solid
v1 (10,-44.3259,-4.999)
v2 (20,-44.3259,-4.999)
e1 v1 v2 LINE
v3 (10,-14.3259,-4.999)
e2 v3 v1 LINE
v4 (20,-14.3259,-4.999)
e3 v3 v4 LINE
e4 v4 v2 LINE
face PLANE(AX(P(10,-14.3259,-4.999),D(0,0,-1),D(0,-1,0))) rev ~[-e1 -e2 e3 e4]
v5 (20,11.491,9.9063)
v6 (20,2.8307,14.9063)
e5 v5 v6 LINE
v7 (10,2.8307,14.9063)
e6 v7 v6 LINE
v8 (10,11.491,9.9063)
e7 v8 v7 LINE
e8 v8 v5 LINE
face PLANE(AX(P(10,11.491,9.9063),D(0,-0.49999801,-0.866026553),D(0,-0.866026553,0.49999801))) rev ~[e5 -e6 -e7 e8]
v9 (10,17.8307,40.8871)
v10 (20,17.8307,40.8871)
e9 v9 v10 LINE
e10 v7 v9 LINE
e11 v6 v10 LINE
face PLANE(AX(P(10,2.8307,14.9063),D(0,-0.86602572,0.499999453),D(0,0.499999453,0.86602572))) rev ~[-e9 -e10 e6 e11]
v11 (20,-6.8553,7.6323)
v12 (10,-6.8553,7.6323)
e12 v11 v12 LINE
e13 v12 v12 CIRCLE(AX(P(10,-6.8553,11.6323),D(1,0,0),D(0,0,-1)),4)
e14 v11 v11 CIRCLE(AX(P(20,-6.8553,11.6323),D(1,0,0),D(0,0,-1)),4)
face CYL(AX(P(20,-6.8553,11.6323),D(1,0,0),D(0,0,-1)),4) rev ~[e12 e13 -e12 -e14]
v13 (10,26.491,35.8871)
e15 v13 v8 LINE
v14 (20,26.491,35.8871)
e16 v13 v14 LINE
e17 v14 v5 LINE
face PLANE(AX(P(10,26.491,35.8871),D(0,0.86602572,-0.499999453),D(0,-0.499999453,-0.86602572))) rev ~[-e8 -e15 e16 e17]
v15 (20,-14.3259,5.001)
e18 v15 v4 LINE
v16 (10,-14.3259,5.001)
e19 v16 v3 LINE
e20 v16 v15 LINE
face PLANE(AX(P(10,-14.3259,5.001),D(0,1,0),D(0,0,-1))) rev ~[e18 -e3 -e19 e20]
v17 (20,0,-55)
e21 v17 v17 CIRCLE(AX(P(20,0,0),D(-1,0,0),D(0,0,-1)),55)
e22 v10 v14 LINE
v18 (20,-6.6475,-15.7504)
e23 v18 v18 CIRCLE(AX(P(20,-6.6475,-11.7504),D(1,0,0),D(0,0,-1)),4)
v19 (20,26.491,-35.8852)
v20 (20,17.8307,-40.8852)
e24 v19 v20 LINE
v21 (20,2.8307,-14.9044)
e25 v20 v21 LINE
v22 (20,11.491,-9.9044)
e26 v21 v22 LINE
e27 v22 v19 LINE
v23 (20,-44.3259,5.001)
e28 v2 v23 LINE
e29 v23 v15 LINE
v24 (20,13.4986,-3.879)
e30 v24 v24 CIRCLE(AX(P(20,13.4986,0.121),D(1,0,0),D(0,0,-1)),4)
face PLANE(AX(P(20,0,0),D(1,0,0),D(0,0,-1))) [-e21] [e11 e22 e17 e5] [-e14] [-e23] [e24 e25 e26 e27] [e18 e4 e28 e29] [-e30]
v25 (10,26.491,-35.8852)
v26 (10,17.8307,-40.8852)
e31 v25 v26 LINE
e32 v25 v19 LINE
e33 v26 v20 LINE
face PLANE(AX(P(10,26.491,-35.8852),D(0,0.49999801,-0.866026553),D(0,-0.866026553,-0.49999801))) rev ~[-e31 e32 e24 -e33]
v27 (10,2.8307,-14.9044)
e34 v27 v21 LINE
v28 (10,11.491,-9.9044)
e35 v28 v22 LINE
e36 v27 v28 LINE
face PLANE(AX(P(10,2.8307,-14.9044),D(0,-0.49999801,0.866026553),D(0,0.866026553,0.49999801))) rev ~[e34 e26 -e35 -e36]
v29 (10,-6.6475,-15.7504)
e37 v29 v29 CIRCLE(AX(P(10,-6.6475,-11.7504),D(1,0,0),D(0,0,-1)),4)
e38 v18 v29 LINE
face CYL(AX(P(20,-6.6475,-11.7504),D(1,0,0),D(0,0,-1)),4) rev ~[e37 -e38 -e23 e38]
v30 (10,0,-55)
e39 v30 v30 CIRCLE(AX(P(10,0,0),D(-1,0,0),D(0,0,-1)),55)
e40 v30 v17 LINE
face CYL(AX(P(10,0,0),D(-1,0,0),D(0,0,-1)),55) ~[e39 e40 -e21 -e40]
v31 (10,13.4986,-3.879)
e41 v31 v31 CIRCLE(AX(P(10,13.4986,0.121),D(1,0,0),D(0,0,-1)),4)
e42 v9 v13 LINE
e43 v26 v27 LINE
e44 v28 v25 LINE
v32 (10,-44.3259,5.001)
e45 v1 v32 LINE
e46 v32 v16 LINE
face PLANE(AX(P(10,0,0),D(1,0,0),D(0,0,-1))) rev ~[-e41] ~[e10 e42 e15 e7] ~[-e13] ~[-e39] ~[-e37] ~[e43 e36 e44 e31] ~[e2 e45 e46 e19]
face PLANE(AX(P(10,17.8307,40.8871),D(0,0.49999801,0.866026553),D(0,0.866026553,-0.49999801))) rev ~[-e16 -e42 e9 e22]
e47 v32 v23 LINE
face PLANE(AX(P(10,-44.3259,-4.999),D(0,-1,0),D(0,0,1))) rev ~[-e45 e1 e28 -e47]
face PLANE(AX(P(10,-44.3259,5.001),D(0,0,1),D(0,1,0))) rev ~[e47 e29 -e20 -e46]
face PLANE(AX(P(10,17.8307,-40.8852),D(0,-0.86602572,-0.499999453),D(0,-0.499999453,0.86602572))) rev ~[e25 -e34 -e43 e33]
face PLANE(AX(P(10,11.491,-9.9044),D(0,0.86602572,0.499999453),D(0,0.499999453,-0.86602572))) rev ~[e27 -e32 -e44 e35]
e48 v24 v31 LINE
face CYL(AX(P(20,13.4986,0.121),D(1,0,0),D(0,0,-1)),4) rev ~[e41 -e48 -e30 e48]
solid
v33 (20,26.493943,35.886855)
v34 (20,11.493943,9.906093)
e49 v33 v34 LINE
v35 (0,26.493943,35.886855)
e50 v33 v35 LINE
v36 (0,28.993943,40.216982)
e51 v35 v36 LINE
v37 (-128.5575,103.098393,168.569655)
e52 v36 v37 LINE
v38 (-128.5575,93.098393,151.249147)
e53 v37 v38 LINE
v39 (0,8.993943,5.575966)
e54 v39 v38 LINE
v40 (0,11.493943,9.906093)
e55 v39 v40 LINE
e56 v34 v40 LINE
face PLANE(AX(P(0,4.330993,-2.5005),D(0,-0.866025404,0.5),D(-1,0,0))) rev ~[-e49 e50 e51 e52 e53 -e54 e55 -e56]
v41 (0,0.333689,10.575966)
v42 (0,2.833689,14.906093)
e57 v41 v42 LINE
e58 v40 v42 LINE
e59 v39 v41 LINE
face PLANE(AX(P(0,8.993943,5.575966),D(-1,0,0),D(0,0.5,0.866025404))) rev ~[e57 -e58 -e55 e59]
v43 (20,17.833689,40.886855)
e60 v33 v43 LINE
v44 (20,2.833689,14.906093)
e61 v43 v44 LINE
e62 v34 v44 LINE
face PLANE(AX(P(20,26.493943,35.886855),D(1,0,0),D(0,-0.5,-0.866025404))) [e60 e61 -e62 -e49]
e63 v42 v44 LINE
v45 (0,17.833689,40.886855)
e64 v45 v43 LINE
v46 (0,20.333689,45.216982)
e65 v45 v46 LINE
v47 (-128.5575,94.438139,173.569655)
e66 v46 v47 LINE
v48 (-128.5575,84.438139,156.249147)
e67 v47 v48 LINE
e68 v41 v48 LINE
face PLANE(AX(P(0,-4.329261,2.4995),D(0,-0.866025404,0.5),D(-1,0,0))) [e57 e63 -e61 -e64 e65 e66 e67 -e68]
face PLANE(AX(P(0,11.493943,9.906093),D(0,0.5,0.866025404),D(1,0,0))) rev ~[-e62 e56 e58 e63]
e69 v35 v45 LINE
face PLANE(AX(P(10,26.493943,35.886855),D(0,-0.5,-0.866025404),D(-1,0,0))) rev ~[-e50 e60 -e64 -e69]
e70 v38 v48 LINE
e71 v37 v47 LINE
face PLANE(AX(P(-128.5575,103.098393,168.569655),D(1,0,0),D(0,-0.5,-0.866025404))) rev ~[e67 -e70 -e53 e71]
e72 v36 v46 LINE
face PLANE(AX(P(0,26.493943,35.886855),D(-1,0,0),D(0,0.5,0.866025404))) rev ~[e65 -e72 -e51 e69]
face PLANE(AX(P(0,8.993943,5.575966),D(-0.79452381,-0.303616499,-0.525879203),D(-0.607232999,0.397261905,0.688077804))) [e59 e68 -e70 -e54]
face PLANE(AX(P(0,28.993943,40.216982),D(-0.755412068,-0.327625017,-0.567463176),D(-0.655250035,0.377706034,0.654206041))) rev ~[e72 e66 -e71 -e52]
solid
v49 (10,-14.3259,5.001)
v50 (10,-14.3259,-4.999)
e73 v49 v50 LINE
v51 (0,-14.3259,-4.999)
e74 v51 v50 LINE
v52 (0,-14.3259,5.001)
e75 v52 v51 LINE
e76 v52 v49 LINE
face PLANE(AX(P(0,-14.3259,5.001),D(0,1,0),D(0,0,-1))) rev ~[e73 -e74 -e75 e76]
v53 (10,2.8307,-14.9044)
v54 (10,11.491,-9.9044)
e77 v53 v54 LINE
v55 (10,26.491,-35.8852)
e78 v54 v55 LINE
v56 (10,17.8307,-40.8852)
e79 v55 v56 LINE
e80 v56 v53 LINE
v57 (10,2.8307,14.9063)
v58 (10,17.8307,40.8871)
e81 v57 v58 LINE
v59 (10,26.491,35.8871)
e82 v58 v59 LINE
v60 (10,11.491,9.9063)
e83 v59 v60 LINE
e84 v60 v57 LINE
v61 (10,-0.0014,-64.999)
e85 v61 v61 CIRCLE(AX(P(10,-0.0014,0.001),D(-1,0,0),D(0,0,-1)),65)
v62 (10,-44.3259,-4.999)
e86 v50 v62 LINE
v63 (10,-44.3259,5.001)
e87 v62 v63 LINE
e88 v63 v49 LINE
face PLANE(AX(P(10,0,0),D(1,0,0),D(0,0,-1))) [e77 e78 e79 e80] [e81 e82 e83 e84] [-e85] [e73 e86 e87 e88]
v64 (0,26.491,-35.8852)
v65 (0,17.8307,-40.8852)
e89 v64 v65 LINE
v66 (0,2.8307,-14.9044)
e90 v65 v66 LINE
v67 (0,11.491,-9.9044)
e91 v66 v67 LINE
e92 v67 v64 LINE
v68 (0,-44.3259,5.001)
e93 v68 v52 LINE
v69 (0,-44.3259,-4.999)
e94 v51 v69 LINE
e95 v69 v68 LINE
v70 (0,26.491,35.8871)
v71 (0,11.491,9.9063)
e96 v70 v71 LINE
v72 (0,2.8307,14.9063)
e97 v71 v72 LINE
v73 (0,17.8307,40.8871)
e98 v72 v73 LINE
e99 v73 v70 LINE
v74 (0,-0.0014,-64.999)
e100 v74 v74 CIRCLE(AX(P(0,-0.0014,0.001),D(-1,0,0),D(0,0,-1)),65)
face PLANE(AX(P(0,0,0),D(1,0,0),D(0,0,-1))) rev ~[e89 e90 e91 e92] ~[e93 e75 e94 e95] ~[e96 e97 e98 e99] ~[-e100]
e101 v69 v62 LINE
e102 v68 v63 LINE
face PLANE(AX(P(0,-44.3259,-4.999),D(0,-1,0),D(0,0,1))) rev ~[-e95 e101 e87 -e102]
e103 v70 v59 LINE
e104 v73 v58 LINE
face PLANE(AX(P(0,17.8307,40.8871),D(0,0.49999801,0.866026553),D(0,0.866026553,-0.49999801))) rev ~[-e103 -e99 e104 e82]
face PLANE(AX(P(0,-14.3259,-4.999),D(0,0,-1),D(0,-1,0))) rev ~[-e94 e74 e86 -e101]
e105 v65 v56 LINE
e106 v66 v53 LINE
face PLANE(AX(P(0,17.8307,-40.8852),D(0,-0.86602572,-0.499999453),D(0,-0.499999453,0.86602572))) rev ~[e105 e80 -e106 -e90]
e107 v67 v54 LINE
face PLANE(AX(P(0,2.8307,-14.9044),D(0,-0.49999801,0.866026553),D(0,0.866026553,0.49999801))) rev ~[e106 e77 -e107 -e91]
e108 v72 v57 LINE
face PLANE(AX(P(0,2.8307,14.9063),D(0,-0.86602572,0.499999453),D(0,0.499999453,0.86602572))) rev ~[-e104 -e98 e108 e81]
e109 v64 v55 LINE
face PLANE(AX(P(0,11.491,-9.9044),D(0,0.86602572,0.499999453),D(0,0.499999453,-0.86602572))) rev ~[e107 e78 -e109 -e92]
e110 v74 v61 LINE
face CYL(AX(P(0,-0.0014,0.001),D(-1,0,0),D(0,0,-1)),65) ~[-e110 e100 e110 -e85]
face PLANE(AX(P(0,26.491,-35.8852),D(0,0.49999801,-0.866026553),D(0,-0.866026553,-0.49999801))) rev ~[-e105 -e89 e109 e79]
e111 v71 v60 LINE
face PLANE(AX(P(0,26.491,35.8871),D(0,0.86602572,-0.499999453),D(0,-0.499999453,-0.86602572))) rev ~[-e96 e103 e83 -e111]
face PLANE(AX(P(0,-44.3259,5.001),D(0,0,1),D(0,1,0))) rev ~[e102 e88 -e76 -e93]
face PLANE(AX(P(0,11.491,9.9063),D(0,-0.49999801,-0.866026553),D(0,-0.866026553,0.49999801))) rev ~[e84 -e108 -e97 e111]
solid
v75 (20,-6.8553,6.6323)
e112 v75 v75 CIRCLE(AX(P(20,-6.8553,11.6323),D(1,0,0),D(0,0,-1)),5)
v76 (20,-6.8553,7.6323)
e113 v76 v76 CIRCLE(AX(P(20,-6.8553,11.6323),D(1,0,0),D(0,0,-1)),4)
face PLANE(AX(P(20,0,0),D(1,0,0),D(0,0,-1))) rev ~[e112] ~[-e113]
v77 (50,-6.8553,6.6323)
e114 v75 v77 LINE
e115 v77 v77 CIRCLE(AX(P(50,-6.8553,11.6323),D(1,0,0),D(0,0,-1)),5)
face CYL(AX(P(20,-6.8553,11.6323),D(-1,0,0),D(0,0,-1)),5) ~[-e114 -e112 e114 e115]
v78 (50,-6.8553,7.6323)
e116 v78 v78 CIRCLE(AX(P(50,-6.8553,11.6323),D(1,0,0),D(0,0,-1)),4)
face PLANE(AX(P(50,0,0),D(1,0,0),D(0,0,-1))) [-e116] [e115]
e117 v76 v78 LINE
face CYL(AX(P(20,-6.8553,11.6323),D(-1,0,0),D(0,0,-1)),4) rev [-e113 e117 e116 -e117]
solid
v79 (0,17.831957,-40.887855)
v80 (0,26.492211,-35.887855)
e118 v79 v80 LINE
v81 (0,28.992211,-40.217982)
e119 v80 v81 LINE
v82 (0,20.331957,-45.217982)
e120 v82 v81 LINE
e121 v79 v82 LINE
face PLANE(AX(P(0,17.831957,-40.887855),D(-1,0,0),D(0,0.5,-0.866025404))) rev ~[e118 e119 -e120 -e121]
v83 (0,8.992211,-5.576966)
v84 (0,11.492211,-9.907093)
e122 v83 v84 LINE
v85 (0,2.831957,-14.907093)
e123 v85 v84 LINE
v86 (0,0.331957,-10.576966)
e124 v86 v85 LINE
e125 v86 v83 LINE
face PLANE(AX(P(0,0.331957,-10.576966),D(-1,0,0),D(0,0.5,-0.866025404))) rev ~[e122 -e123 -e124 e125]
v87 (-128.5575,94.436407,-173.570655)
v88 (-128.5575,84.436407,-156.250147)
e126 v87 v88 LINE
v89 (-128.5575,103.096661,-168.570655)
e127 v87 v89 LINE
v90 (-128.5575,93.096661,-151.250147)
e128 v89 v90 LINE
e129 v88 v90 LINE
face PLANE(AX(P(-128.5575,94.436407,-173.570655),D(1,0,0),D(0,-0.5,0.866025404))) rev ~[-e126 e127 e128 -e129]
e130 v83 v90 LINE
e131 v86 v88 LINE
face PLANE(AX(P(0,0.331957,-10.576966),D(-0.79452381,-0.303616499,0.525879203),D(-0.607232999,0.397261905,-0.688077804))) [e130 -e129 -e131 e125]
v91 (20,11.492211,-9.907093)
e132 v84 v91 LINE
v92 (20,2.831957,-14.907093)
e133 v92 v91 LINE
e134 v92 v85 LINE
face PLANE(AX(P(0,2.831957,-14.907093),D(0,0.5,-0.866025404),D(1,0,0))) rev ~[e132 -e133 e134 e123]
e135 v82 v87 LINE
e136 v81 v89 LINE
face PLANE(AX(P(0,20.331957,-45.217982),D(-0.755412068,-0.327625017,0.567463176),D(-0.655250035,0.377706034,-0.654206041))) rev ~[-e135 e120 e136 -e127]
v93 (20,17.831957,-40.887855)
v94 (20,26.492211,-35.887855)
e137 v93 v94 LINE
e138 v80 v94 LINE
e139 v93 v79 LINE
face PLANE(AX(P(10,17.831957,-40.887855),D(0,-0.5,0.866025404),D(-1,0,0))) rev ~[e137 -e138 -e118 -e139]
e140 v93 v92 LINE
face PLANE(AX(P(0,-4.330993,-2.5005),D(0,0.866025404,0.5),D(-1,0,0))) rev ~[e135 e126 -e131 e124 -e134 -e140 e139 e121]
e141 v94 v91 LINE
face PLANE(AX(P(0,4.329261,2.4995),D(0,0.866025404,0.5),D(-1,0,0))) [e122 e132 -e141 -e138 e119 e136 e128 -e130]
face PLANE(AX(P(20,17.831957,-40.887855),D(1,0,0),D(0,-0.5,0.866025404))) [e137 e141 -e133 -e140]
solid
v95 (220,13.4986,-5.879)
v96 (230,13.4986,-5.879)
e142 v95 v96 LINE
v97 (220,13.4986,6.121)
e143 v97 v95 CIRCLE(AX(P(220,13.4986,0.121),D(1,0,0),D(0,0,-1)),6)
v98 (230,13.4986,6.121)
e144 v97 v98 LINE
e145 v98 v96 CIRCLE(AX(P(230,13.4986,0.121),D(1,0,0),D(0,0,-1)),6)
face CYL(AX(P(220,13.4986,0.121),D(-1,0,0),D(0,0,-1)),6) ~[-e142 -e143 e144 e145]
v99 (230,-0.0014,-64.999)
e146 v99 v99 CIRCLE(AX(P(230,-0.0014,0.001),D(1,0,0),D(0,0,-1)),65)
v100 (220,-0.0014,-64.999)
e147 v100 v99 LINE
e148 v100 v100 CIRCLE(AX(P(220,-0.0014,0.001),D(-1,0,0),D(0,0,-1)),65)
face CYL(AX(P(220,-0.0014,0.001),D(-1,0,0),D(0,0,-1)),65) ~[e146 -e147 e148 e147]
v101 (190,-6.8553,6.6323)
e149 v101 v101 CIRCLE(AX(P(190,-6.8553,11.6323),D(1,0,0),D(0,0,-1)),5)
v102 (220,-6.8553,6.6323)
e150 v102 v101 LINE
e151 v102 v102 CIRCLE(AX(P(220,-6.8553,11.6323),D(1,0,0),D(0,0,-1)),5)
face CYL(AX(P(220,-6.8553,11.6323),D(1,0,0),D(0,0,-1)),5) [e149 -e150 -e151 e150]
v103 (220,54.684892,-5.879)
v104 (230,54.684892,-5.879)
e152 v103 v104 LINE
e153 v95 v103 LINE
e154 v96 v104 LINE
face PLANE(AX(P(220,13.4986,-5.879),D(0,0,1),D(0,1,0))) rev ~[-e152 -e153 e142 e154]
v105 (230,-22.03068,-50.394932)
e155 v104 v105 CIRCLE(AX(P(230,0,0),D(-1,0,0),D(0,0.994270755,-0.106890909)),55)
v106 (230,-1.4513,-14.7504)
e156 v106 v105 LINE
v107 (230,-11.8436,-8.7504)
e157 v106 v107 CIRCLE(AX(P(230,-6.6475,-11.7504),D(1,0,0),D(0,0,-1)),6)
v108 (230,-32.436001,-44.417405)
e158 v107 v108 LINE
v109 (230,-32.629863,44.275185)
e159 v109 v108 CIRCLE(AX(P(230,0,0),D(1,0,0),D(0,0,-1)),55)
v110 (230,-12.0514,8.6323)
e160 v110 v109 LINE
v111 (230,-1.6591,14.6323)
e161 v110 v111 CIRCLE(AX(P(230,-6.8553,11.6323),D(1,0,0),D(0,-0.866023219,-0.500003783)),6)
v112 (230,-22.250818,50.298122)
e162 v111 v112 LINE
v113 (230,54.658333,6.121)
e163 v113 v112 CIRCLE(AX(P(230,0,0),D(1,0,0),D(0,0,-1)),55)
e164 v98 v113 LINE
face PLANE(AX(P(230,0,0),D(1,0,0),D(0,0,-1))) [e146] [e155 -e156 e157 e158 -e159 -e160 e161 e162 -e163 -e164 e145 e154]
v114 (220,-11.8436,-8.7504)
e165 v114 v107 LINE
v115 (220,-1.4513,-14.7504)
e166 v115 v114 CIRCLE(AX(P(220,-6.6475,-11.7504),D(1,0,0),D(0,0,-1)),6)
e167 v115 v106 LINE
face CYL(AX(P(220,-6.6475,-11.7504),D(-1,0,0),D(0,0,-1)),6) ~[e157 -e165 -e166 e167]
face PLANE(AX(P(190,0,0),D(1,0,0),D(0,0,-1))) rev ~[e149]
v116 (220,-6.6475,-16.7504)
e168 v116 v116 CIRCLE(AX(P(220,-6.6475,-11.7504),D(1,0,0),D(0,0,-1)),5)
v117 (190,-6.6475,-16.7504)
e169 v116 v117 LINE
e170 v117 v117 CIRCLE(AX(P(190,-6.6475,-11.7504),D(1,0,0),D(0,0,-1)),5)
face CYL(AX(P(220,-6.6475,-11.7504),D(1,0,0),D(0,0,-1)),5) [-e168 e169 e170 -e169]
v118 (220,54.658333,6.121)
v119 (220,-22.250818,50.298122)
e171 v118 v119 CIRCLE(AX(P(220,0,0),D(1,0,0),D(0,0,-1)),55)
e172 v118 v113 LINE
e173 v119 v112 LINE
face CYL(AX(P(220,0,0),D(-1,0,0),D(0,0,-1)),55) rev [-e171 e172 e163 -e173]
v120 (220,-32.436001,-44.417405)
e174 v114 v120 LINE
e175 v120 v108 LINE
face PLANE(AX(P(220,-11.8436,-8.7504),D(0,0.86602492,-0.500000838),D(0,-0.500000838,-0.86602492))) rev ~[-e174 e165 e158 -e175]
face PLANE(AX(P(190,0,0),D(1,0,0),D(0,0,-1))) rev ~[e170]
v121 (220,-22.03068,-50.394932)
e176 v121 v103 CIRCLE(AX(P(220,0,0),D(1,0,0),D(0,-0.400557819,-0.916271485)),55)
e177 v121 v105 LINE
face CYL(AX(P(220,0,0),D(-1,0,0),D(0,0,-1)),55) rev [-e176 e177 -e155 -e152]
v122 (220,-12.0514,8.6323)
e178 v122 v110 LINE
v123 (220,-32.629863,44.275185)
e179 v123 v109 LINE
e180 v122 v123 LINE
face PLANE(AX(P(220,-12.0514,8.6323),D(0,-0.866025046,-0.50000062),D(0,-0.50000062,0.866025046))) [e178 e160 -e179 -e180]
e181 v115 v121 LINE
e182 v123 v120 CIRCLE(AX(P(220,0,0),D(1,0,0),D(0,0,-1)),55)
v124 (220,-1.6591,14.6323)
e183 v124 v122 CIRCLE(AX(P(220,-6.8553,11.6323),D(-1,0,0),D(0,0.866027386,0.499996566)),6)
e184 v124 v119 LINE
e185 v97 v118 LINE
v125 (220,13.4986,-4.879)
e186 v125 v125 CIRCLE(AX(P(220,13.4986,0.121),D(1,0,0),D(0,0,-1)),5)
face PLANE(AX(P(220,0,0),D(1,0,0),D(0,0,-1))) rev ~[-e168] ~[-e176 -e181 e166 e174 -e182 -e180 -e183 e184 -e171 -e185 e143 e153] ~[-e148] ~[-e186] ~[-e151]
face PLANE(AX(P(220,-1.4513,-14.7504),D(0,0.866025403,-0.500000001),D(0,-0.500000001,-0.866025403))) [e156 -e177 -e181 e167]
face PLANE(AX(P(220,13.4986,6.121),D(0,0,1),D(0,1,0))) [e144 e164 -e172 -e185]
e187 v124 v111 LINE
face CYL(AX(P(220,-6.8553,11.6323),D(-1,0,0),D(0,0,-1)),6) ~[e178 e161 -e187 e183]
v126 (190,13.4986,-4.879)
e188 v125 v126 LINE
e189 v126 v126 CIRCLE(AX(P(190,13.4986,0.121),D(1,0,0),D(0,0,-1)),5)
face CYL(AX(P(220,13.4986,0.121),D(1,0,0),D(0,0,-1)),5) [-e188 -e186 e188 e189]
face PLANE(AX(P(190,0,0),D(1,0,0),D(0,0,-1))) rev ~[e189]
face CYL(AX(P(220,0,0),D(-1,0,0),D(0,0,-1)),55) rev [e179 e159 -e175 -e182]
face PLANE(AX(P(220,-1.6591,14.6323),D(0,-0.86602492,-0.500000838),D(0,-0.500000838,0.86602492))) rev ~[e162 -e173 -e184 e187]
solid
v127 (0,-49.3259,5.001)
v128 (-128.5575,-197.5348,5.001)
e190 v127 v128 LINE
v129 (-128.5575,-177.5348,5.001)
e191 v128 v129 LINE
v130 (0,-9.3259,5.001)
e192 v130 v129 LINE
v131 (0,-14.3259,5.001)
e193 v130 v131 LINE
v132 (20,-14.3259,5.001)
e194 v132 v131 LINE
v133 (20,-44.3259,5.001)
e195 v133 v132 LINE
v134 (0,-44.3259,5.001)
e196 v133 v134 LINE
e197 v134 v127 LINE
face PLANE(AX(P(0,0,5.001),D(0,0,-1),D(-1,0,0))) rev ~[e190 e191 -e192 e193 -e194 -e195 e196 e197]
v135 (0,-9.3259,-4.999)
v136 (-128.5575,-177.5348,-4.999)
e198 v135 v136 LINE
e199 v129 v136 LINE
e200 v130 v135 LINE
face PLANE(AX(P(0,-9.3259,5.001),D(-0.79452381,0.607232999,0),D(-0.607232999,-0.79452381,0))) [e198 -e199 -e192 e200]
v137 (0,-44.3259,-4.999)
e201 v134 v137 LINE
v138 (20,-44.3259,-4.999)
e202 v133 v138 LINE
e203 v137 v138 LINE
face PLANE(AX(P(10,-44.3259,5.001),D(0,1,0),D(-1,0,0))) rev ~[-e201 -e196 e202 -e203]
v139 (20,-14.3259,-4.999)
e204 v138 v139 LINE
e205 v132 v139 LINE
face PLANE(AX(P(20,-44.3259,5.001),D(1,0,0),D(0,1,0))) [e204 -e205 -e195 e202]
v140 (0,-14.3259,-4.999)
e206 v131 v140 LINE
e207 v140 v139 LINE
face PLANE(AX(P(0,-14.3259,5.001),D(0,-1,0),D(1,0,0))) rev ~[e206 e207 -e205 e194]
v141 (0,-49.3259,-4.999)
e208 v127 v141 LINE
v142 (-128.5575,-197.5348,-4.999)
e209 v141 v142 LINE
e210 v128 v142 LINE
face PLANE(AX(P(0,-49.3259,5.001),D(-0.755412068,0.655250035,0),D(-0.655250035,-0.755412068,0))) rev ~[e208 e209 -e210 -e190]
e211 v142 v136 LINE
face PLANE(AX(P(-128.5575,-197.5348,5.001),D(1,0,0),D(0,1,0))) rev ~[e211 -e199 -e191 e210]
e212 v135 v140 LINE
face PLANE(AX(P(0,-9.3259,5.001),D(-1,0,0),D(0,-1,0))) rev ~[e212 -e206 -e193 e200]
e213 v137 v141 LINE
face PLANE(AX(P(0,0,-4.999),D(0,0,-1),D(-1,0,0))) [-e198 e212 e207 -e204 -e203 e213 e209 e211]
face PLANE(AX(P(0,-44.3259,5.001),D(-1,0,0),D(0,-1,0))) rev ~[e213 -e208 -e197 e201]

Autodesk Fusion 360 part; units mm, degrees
sketch "main" plane through (0, 0, 0) normal (1, 0, 0) x (0, 0, -1)
  circle A0 centre (-0.121, 13.4986) radius 6
  circle A1 centre (0, 0) radius 55
  circle A2 centre (-0.121, 13.4986) radius 5
  circle A3 centre (-0.001, -0.0014) radius 65
  line L0 (5.879, 13.4986) -> (5.879, 64.7321)
  line L1 (-6.121, 13.4986) -> (-6.121, 64.7099)
  circle A4 centre (-11.6323, -6.8553) radius 5
  line L2 (-8.6323, -12.0514) -> (-52.9826, -37.6571)
  line L3 (-14.6323, -1.6591) -> (-59.0018, -27.2759)
  circle A5 centre (-11.6323, -6.8553) radius 6
  circle A6 centre (11.7504, -6.6475) radius 5
  line L4 (14.7504, -1.4513) -> (59.1006, -27.0569)
  line L5 (8.7504, -11.8436) -> (53.1199, -37.4604)
  circle A7 centre (11.7504, -6.6475) radius 6
  line L6 (4.999, -44.3259) -> (-5.001, -44.3259)
  line L7 (-5.001, -44.3259) -> (-5.001, -14.3259)
  line L8 (-5.001, -14.3259) -> (4.999, -14.3259)
  line L9 (4.999, -14.3259) -> (4.999, -44.3259)
  line L10 (9.9044, 11.491) -> (35.8852, 26.491)
  line L11 (40.8852, 17.8307) -> (14.9044, 2.8307)
  line L12 (14.9044, 2.8307) -> (9.9044, 11.491)
  line L13 (35.8852, 26.491) -> (40.8852, 17.8307)
  line L14 (-14.9063, 2.8307) -> (-40.8871, 17.8307)
  line L15 (-35.8871, 26.491) -> (-9.9063, 11.491)
  line L16 (-9.9063, 11.491) -> (-14.9063, 2.8307)
  line L17 (-40.8871, 17.8307) -> (-35.8871, 26.491)
  circle A8 centre (-0.121, 13.4986) radius 4
  circle A9 centre (-11.6323, -6.8553) radius 4
  circle A10 centre (11.7504, -6.6475) radius 4
  dimension "d7" = 12
  dimension "d8" = 13.5
  dimension "d11" = 110
  dimension "d19" = 10
  dimension "d27" = 130
  dimension "d70" = 360
  dimension "d77" = 30
  dimension "d79" = 360
  dimension "d84" = 10
  dimension "d106" = 5
  dimension "d114" = 8
extrude "Extrude11" add sketch "main" along normal blind 10 contours A0 | A0 A1 L0 L1 L2 L3 A5 L4 L5 A7 | A0 A1 L0 L1 | A1 A3 L0 L4 | A1 A3 L0 L1 | A1 A3 L1 L3 | A1 L2 L3 A5 | A1 A3 L2 L3 | A1 A3 L4 L5 | A1 L4 L5 A7 | A1 A3 L2 L5 | A5 | A7 | A2 | A4 | A6 | A8 | A9 | A10 makes body 1
sketch "leg" plane through (0, 0, 5.001) normal (0, 0, -1) x (-1, 0, 0)
  line L0 (0, -44.3259) -> (0, -14.3259)
  line L1 (0, -14.3259) -> (-10, -14.3259)
  line L2 (128.5575, -197.5348) -> (128.5575, -177.5348)
  line L3 (0, -14.3259) -> (-20, -14.3259)
  line L4 (-20, -44.3259) -> (-20, -14.3259)
  line L5 (0, -9.3259) -> (128.5575, -177.5348)
  line L6 (0, -44.3259) -> (0, -49.3259)
  line L7 (0, -49.3259) -> (128.5575, -197.5348)
  line L8 (-20, -44.3259) -> (0, -44.3259)
  line L9 (0, -9.3259) -> (0, -14.3259)
  line L10 (0, -44.3259) -> (0, -14.3259)
  line L11 (0, -14.3259) -> (-10, -14.3259)
  line L12 (-10, -14.3259) -> (-10, -44.3259)
  line L13 (-10, -44.3259) -> (0, -44.3259)
  dimension "d81" = 200
  dimension "d83" = 20
  dimension "d89" = 20
  dimension "d103" = 5
extrude "Extrude14" add sketch "leg" along normal blind 10 separate body makes body 2
pattern_circular "C-Pattern6" count 3 over 360 about axis through (1.75, 0, 0) along (1, 0, 0) of "Extrude14" makes body 3 makes body 4
extrude "Extrude15" add sketch "main" along normal blind 10 from surface at 10 separate body contours A0 | A0 A1 L0 L1 L2 L3 A5 L4 L5 A7 | A0 A1 L0 L1 | A1 L2 L3 A5 | A1 L4 L5 A7 | A5 | A7 | A2 | A4 | A6 | A8 | A9 | A10 makes body 5
extrude "Extrude16" cut sketch "main" against normal through all from surface at 20 contours A8 | A9 | A10 bodies 5
extrude "Extrude17" add sketch "main" along normal blind 10 from surface at 220 separate body contours A0 | A0 A1 L0 L1 | A1 A3 L0 L4 | A1 A3 L0 L1 | A1 A3 L1 L3 | A1 L2 L3 A5 | A1 A3 L2 L3 | A1 A3 L4 L5 | A1 L4 L5 A7 | A1 A3 L2 L5 | A5 | A7 | A2 | A4 | A6 | A8 | A9 | A10 makes body 6
extrude "Extrude18" add sketch "main" against normal blind 30 from surface at 220 contours A2 | A4 | A6 | A8 | A9 | A10 bodies 6
copy_body "Body->Comp1" bodies 1 removing the originals makes body 7 in component "base"
copy_body "Body->Comp2" bodies 5 removing the originals makes body 8 in component "mount_lower"
copy_body "Body->Comp4" bodies 2 removing the originals makes body 9 in component "leg1"
copy_body "Body->Comp5" bodies 3 removing the originals makes body 10 in component "leg2"
copy_body "Body->Comp6" bodies 4 removing the originals makes body 11 in component "leg3"
copy_body "Body->Comp7" bodies 6 removing the originals makes body 12 in component "mount_upper"
extrude "Extrude1" add sketch "main" along normal blind 30 from surface at 20 separate body contours A4 makes body 13 in component "sleeve"
component "base" placed x (1, 0, 0) y (0, 1, 0) z (0, 0, 1) at (0, 0, 0)
component "mount_lower" placed x (1, 0, 0) y (0, 1, 0) z (0, 0, 1) at (0, 0, 0)
component "leg1" placed x (1, 0, 0) y (0, 1, 0) z (0, 0, 1) at (0, 0, 0)
component "leg2" placed x (1, 0, 0) y (0, 1, 0) z (0, 0, 1) at (0, 0, 0)
component "leg3" placed x (1, 0, 0) y (0, 1, 0) z (0, 0, 1) at (0, 0, 0)
component "mount_upper" placed x (1, 0, 0) y (0, 1, 0) z (0, 0, 1) at (0, 0, 0)
component "sleeve" placed x (1, 0, 0) y (0, 1, 0) z (0, 0, 1) at (0, 0, 0)
equation "d7 = tube_od"
equation "d8 = body_dia / 2 + tube_od / 2"
equation "d19 = tube_id"
equation "body_dia = 15 mm"
equation "tube_od = 12 mm"
equation "tube_id = 10 mm"
